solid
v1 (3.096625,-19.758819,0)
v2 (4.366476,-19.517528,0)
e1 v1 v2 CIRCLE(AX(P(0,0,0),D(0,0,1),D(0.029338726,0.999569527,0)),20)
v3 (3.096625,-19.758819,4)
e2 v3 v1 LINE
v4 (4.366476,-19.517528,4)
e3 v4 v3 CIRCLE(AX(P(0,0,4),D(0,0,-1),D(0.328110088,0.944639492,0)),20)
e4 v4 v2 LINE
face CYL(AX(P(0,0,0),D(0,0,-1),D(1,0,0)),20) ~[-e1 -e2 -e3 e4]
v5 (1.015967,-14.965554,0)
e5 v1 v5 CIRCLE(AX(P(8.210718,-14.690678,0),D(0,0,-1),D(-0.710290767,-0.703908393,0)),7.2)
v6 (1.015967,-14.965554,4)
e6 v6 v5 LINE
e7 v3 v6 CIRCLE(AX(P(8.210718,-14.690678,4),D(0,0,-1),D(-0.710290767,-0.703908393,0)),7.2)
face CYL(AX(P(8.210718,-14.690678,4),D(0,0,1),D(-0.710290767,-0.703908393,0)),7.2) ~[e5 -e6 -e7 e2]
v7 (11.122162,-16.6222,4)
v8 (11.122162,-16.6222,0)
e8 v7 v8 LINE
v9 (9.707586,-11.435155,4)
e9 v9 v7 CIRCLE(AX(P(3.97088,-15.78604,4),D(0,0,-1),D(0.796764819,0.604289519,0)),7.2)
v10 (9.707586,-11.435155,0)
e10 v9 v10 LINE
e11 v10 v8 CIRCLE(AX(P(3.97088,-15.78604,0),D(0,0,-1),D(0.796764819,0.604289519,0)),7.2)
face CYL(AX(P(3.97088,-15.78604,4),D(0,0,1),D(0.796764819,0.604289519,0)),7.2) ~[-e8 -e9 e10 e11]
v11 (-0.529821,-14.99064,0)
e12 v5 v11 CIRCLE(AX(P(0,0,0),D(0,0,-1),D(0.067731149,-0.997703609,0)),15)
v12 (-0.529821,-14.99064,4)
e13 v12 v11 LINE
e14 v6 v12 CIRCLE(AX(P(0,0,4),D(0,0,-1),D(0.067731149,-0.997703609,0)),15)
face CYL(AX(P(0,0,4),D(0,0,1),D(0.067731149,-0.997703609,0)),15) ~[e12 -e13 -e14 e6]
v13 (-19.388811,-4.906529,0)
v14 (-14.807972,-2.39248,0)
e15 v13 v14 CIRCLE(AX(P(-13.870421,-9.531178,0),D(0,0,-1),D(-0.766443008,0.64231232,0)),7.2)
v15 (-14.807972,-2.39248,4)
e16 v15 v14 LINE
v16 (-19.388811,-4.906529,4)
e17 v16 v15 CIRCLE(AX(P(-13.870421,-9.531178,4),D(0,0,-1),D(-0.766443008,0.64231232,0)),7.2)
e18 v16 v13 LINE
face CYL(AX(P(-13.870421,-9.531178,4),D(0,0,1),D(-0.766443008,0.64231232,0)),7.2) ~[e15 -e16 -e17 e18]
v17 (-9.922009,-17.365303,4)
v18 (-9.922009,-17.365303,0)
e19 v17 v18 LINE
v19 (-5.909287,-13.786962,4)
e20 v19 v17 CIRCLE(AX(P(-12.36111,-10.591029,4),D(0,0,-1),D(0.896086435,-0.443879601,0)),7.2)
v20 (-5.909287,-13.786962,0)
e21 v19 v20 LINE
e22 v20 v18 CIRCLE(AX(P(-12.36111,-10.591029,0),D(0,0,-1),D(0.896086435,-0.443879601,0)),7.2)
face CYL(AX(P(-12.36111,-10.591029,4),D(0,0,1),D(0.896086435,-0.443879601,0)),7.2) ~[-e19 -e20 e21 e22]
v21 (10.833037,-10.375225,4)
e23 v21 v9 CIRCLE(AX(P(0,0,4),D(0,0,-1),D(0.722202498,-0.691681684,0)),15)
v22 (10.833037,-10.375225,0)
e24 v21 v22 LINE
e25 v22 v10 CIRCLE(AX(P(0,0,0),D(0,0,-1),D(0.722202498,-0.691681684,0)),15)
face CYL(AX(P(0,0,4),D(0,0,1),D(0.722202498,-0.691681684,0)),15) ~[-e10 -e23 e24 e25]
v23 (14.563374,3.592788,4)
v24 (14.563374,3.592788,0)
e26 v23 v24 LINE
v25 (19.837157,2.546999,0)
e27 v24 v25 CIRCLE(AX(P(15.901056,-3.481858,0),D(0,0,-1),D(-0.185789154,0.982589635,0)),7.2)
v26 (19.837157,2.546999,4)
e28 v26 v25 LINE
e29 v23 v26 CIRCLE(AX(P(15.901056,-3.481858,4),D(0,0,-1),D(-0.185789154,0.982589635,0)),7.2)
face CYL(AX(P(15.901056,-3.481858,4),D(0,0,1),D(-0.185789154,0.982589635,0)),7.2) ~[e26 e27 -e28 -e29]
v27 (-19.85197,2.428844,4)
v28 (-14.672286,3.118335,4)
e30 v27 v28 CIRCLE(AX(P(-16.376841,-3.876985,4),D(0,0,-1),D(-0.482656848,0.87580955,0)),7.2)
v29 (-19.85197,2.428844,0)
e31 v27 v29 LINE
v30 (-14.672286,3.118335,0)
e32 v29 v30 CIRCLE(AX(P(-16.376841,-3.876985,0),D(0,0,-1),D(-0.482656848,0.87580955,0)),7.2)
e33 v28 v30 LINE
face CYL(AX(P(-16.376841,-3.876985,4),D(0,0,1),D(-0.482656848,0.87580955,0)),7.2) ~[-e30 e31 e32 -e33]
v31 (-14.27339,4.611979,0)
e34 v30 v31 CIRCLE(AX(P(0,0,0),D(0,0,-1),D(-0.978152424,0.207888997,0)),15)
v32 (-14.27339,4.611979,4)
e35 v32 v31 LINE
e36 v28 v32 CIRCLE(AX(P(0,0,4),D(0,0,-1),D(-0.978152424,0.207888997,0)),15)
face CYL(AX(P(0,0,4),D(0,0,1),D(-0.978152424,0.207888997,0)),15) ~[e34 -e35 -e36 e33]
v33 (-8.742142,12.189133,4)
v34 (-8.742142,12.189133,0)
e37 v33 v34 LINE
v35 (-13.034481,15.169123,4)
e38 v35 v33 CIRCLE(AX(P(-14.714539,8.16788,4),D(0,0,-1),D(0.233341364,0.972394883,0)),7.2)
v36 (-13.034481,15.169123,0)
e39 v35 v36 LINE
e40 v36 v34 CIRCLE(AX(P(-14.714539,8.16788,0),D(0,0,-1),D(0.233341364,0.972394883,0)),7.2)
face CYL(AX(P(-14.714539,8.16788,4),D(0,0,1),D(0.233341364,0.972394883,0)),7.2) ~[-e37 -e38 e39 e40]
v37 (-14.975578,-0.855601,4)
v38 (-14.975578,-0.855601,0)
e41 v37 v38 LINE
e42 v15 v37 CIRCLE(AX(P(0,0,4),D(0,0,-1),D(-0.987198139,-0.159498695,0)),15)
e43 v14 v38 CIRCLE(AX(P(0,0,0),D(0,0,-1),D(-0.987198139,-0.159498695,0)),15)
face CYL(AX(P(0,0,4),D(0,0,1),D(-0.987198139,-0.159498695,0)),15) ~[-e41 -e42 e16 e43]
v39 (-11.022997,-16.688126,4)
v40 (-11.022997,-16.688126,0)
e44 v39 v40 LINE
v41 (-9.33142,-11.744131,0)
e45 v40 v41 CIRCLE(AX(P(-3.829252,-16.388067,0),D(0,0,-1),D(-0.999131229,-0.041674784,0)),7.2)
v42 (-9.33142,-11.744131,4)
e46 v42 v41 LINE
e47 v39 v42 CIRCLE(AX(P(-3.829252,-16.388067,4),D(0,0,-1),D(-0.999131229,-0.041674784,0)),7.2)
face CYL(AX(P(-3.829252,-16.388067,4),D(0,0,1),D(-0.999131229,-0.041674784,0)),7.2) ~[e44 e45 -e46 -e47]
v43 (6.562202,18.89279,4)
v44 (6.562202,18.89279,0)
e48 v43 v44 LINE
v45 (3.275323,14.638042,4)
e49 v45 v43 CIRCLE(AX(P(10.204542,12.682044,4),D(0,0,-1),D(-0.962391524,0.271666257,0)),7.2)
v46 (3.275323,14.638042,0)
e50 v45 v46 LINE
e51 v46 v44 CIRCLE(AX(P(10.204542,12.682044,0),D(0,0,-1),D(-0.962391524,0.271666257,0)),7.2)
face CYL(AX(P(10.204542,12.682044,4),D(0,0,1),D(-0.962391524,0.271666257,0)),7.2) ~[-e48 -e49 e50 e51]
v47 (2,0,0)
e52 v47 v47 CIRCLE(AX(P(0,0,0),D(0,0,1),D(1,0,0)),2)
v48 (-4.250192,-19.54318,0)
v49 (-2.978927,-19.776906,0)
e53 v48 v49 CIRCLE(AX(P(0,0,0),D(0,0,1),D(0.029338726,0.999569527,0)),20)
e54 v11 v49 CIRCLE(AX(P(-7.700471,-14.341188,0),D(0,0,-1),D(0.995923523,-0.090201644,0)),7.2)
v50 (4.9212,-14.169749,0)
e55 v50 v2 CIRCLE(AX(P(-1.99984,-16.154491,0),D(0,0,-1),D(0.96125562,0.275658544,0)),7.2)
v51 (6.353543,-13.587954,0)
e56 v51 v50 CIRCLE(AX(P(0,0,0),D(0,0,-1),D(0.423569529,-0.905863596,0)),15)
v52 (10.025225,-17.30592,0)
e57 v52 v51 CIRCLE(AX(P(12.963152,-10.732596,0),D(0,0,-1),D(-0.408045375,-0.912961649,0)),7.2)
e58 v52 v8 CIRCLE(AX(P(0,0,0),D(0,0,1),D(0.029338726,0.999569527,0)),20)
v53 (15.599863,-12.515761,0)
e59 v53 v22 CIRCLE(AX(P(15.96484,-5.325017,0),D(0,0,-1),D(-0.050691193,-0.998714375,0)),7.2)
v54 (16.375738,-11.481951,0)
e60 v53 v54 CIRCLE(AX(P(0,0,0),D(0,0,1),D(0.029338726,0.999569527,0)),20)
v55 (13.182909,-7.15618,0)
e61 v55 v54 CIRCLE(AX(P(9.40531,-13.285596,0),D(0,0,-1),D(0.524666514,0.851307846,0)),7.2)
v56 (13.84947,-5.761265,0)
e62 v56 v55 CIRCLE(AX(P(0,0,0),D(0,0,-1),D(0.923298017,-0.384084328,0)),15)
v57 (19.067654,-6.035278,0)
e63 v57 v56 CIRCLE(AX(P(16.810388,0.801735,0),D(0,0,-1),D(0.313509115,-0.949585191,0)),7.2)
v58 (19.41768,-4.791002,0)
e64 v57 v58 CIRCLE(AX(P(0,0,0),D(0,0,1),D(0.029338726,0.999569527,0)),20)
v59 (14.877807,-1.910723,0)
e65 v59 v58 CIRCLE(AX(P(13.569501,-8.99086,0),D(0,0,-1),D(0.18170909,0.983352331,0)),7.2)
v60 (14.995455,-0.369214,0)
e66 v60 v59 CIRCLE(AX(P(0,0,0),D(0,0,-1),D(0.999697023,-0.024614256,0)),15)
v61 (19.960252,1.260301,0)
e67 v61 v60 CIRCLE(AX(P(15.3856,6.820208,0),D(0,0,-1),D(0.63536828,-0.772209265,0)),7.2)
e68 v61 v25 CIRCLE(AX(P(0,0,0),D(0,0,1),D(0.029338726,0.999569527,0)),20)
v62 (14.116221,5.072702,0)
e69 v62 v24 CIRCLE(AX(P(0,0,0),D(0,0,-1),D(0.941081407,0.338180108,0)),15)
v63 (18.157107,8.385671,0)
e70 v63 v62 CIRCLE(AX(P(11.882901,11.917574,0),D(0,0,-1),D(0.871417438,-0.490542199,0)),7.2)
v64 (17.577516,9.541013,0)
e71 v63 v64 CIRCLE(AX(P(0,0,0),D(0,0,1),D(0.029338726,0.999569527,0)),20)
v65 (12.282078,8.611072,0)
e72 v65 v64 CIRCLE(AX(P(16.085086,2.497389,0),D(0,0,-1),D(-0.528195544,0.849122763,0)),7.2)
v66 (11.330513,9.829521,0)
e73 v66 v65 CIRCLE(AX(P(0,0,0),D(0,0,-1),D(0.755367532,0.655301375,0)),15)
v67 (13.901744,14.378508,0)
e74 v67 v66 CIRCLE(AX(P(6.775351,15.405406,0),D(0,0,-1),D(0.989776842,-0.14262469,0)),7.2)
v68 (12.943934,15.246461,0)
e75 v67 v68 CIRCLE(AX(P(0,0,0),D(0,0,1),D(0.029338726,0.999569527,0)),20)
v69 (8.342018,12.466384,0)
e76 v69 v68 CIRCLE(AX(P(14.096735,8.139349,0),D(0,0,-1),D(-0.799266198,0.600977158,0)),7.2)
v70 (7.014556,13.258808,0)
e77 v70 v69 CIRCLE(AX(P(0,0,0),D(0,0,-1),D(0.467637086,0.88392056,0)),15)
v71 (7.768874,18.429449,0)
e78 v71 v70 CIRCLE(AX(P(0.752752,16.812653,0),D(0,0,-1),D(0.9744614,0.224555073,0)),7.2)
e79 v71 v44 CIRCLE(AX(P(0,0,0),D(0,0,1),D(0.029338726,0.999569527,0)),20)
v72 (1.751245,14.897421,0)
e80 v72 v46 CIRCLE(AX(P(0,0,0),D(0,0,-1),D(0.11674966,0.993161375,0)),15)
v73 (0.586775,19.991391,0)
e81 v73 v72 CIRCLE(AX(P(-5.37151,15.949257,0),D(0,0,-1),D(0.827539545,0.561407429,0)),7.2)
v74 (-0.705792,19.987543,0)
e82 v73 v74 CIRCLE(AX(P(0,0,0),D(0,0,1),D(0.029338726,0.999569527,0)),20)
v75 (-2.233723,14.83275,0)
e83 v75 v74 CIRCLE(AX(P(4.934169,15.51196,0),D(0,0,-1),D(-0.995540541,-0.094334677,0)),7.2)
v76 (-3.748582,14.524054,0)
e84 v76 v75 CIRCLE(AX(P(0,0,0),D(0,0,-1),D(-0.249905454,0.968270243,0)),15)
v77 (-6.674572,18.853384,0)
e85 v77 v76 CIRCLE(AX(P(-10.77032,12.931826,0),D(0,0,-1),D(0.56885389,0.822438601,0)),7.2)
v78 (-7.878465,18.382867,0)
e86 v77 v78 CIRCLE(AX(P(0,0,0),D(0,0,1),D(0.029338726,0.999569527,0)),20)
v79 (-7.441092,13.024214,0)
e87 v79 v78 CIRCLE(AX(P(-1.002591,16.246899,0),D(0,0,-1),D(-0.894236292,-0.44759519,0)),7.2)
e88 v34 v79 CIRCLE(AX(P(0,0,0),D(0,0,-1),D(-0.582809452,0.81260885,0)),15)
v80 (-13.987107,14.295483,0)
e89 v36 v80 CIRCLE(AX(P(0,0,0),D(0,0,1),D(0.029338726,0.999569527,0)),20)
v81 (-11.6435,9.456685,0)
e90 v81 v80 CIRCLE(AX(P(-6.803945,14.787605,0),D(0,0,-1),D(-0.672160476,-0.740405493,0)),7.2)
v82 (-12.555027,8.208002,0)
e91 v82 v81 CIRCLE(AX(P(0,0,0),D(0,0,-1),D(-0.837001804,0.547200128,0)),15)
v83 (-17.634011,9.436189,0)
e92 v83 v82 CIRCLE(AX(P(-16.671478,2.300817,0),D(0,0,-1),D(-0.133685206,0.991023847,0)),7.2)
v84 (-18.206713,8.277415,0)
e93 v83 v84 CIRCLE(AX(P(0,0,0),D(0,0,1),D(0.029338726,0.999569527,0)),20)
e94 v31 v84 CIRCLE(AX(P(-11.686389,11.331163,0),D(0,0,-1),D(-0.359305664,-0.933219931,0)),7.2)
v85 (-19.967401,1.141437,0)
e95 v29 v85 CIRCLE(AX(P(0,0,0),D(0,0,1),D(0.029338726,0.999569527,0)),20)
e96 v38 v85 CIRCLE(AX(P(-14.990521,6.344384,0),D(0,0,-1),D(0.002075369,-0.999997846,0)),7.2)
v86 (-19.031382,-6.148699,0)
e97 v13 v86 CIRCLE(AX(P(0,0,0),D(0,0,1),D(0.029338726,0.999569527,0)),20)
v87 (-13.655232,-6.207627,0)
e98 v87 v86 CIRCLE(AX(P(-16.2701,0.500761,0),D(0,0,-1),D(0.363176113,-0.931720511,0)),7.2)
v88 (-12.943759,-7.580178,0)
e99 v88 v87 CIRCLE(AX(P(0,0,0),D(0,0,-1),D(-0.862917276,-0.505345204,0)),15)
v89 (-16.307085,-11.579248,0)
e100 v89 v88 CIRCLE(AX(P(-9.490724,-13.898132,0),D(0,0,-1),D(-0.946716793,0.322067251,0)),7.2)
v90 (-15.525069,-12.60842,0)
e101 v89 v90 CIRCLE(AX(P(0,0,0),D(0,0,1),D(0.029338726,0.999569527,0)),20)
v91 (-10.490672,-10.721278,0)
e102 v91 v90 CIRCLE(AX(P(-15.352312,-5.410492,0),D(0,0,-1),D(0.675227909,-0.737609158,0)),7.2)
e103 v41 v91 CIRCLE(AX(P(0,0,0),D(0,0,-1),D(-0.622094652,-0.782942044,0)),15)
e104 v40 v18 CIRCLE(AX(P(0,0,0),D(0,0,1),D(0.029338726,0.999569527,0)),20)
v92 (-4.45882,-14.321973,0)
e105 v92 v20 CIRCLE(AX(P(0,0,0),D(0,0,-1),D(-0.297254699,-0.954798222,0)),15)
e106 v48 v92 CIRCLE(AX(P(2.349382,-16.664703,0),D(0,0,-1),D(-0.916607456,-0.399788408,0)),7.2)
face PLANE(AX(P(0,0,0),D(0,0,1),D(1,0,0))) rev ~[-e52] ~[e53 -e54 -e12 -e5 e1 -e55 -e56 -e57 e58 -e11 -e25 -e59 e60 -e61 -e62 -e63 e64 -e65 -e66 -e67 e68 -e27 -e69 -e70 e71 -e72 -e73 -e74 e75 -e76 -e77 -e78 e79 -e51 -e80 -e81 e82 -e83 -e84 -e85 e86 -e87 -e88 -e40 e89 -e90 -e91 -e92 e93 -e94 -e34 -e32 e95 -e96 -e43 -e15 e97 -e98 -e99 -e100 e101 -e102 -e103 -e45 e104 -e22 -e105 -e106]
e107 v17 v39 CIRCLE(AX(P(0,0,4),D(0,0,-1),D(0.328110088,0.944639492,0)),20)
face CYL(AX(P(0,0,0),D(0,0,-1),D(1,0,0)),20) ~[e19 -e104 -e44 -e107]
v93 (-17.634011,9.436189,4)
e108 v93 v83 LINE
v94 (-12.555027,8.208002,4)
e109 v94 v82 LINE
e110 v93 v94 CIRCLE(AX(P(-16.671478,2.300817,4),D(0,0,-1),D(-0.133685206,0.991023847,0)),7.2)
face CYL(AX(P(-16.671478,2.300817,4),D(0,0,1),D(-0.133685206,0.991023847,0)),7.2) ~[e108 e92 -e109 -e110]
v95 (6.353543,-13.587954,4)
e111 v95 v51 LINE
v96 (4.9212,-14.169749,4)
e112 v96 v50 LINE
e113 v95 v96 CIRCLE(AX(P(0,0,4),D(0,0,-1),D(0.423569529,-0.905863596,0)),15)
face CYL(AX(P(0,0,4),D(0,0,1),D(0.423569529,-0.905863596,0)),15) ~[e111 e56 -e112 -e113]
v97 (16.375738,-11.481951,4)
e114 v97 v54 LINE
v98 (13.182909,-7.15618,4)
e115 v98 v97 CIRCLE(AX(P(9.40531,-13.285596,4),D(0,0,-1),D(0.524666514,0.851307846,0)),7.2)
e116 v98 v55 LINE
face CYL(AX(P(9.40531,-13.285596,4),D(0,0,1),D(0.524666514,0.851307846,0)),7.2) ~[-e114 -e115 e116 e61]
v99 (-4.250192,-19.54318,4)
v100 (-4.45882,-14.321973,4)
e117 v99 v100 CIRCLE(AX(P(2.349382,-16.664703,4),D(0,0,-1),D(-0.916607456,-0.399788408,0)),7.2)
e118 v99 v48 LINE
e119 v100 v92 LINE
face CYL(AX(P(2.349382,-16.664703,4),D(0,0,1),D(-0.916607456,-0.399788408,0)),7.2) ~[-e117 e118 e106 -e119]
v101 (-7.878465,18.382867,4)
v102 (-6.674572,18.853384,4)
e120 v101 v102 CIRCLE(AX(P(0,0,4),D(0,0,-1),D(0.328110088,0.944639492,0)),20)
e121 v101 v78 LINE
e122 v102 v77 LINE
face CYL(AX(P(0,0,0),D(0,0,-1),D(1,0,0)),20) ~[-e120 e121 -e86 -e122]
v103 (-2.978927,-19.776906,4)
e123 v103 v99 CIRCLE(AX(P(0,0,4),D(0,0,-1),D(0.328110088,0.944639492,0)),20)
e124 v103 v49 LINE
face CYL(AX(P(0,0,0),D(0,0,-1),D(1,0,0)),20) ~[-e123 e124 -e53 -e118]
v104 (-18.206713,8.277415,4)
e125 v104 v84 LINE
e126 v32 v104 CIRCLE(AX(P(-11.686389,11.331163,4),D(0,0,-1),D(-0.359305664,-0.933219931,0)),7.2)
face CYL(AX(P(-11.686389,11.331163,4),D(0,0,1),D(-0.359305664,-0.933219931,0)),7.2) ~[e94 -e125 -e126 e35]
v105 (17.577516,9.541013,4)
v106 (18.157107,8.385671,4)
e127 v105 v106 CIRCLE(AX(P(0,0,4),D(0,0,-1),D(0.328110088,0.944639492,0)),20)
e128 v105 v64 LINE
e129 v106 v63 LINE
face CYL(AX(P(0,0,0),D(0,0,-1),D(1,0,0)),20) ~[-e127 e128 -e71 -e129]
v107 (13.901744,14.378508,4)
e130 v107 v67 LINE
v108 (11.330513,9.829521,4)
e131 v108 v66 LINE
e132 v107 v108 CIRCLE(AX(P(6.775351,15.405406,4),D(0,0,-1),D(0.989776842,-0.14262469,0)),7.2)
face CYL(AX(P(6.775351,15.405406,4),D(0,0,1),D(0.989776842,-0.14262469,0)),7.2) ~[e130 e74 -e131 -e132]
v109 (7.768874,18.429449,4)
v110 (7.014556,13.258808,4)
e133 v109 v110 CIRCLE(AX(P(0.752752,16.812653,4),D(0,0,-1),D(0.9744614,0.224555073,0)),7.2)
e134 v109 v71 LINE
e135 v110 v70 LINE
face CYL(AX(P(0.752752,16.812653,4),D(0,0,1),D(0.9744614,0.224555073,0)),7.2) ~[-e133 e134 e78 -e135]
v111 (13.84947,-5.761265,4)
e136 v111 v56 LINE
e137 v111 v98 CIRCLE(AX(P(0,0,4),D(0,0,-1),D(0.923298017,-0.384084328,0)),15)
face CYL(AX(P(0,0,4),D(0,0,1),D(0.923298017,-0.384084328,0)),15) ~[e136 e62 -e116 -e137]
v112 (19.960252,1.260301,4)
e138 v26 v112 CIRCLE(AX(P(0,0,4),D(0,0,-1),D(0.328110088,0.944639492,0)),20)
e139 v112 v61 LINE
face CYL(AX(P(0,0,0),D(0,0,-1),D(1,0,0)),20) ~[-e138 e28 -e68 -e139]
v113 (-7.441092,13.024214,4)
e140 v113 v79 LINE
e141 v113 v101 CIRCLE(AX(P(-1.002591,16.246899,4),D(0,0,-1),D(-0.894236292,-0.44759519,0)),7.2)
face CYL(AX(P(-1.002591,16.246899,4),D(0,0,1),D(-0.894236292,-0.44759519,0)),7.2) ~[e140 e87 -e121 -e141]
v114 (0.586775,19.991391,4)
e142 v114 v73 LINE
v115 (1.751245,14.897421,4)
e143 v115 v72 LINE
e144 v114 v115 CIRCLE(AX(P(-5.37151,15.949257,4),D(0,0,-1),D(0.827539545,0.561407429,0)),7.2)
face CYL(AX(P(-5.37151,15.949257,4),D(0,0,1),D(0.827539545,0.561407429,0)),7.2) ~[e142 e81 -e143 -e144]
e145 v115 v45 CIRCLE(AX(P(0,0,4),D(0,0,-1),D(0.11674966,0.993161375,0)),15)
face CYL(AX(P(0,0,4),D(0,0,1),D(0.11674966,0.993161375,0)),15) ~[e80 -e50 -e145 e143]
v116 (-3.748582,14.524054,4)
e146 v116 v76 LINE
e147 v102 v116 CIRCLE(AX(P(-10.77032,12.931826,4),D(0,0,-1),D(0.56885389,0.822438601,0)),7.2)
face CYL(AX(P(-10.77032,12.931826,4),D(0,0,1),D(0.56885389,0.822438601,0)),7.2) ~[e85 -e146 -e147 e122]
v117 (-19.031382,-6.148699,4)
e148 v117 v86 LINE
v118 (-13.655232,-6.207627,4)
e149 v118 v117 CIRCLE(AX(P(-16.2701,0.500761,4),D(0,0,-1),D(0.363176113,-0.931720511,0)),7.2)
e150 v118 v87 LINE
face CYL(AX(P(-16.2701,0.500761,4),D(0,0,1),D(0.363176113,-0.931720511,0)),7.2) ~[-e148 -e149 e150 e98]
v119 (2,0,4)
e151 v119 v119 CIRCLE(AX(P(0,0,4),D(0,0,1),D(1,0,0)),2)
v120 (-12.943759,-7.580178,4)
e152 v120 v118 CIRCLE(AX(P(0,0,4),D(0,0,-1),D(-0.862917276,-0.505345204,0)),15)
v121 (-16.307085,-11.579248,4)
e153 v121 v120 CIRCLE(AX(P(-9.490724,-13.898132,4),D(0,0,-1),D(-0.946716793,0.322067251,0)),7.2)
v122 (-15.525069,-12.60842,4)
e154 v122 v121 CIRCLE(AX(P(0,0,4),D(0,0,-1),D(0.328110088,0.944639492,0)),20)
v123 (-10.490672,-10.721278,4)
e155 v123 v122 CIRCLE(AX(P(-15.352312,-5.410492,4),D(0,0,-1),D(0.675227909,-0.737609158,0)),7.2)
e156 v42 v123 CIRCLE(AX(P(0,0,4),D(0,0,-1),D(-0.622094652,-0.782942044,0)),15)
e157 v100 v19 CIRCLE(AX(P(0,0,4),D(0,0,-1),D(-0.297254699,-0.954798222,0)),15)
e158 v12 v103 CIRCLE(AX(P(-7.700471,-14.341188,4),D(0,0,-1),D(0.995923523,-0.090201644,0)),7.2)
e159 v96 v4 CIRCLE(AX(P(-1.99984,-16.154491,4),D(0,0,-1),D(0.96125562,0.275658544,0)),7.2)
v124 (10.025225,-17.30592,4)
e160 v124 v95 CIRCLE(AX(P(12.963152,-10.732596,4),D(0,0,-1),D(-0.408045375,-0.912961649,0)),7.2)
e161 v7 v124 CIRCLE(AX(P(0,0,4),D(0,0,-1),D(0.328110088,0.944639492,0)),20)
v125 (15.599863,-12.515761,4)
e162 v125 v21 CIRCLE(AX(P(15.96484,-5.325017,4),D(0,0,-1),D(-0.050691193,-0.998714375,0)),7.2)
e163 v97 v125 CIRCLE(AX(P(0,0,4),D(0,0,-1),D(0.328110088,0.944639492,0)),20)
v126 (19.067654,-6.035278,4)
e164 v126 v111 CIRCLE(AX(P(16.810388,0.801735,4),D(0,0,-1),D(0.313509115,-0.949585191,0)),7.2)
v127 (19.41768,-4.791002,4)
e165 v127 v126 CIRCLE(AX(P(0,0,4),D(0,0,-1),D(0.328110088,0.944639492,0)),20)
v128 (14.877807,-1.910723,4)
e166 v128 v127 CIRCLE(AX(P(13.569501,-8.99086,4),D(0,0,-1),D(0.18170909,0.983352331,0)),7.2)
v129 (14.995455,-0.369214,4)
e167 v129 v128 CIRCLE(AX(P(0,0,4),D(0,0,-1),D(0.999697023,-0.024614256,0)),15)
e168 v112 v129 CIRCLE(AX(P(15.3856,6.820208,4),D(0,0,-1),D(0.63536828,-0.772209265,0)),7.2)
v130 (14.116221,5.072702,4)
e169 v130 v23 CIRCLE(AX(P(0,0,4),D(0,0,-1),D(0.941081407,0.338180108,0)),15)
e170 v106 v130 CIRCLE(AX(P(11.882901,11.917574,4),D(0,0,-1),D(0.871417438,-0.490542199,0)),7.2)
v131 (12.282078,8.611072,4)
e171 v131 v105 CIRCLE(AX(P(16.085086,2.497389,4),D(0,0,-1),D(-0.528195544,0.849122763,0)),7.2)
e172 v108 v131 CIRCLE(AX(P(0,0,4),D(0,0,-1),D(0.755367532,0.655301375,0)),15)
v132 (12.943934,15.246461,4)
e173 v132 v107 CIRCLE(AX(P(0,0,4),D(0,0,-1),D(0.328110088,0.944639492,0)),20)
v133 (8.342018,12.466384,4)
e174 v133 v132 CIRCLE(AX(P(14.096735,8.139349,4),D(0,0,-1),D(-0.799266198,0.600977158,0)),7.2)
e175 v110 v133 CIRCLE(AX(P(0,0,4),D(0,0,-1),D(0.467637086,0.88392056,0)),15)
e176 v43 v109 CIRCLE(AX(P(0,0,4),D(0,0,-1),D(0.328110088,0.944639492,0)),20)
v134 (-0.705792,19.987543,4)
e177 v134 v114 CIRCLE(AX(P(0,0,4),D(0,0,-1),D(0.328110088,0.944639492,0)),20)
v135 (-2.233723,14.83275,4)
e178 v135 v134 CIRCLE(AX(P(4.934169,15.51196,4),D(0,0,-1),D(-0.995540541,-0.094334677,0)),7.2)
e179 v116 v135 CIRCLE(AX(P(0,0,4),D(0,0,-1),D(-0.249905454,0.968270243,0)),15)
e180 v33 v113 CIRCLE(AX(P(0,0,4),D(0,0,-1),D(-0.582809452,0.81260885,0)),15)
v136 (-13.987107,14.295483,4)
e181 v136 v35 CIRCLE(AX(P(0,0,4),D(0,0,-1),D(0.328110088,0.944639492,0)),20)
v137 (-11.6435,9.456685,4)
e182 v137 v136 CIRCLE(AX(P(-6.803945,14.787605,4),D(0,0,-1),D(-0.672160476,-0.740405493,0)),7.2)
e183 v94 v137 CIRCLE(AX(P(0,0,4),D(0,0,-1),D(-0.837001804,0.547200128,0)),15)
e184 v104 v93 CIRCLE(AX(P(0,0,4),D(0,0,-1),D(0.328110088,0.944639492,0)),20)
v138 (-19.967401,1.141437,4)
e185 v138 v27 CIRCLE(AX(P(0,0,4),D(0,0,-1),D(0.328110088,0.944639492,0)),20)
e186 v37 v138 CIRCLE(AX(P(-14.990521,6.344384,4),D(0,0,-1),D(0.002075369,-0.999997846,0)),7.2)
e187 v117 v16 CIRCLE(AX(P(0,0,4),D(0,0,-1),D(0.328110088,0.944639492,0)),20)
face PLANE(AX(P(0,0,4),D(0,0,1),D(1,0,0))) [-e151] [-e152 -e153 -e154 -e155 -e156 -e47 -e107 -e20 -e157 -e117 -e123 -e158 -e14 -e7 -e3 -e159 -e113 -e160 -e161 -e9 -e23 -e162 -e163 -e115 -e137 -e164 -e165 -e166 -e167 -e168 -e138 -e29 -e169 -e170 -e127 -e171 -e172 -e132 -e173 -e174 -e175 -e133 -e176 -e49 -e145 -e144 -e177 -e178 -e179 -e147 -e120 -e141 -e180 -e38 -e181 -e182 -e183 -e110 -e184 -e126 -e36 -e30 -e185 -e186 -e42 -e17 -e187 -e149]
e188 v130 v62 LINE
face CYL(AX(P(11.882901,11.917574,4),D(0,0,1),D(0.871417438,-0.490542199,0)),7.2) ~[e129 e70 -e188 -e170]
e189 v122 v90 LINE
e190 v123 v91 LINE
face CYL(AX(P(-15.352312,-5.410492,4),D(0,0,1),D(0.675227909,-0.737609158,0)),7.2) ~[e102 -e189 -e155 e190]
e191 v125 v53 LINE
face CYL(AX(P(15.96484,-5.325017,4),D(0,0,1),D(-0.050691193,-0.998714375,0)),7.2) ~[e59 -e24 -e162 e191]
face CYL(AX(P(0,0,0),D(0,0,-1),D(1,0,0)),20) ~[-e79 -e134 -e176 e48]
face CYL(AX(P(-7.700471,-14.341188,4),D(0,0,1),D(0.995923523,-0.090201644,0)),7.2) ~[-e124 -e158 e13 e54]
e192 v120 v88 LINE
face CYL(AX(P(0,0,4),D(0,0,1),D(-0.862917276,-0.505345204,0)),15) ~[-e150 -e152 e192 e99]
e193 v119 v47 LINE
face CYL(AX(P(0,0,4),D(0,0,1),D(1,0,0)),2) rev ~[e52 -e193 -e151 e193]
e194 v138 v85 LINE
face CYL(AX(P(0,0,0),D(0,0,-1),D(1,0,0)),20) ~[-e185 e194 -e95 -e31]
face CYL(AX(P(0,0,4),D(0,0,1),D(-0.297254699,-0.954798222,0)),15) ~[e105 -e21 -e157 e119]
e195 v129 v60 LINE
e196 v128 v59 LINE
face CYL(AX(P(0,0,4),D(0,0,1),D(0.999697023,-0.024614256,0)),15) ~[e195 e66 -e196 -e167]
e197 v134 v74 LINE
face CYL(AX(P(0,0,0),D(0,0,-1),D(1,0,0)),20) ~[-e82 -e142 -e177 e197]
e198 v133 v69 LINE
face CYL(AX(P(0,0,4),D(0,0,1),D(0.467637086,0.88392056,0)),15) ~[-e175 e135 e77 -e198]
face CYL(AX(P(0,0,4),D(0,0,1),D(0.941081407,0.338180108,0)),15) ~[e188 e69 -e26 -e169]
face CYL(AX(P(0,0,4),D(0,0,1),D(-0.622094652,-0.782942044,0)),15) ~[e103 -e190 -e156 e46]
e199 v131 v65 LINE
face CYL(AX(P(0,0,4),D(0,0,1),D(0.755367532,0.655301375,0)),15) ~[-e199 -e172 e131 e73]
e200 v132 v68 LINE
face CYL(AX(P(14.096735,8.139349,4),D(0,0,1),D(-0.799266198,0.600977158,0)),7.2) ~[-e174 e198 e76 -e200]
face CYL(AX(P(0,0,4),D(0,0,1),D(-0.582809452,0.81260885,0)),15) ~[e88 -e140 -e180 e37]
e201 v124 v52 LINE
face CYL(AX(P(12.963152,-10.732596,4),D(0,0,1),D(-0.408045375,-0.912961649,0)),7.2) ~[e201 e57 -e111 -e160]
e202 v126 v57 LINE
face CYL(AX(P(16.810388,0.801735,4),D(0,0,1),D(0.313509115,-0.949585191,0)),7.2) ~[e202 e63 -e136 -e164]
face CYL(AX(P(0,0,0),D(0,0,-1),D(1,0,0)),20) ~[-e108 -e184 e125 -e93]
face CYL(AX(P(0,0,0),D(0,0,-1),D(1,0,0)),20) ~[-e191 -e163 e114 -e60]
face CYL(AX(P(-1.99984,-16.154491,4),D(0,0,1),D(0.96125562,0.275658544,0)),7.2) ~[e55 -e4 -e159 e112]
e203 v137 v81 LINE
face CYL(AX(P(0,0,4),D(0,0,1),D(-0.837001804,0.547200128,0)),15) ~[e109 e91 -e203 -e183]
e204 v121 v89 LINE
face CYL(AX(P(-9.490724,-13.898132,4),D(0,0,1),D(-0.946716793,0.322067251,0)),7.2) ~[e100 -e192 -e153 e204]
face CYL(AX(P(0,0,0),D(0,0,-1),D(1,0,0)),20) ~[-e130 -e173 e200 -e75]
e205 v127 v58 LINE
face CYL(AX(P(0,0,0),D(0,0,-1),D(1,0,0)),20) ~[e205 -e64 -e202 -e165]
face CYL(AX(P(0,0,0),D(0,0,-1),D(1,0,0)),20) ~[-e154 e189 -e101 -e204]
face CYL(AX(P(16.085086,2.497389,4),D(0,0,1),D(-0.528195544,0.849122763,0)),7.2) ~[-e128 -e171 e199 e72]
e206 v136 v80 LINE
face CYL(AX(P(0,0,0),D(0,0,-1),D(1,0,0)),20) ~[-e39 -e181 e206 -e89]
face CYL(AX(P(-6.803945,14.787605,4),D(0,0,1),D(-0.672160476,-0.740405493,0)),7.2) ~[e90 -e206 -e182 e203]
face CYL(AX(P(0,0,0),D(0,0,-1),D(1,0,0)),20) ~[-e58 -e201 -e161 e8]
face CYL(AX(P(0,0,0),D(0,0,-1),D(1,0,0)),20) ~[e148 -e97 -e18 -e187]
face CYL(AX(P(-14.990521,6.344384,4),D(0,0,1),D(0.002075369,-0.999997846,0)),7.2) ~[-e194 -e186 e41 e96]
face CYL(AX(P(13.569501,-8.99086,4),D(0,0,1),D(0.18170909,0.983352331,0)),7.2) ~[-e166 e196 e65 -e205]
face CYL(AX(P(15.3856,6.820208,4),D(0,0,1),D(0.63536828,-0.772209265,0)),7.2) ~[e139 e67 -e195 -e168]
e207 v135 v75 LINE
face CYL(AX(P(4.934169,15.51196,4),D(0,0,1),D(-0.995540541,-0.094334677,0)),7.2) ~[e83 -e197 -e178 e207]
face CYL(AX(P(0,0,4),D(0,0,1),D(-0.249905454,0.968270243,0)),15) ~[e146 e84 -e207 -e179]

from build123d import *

# Parameters (mm, degrees)
SKIZZE1_R                       = 20
AUFSATZ_LINEAR_AUSTRAGEN1_DEPTH = 4
SCHNITT_LINEAR_AUSTRAGEN1_REACH = 6
SKIZZE2_R                       = 2
SCHNITT_LINEAR_AUSTRAGEN2_DEPTH = 4
KREISMUSTER1_COUNT              = 17


with BuildPart() as part:
    # Skizze1 → Aufsatz-Linear austragen1 (new body)
    with BuildSketch(Plane.XY):
        Circle(SKIZZE1_R)
    extrude(amount=AUFSATZ_LINEAR_AUSTRAGEN1_DEPTH)

    # Skizze2 → Schnitt-Linear austragen1 (cut, up to next)
    with BuildSketch(Plane.XY.offset(4), mode=Mode.PRIVATE) as schnitt_linear_austragen1_sk1:
        Circle(SKIZZE2_R)
    schnitt_linear_austragen1_tool1 = extrude(schnitt_linear_austragen1_sk1.sketch, amount=-SCHNITT_LINEAR_AUSTRAGEN1_REACH, mode=Mode.PRIVATE) & part.part
    add(schnitt_linear_austragen1_tool1.solids().sort_by_distance((0, 0, 4))[0], mode=Mode.SUBTRACT)

    # Skizze3 → Schnitt-Linear austragen2 (cut)
    with BuildSketch(Plane.XY.offset(4)):
        with BuildLine():
            ThreePointArc((0.586774522, 19.991390538), (1.647430818, 17.553771601), (1.751244892, 14.897420627))
            ThreePointArc((1.751244892, 14.897420627), (2.516627793, 14.787379232), (3.275322949, 14.638041521))
            ThreePointArc((3.275322949, 14.638041521), (4.506718961, 17.083727504), (6.562201755, 18.892789845))
            ThreePointArc((6.562201755, 18.892789845), (3.616448026, 19.670315292), (0.586774522, 19.991390538))
        make_face()
    schnitt_linear_austragen2 = extrude(amount=-SCHNITT_LINEAR_AUSTRAGEN2_DEPTH, mode=Mode.SUBTRACT)

    # Kreismuster1: Schnitt-Linear austragen2 ×17 about axis
    kreismuster1_axis = Axis((0, 0, 0), (0, 0, 1))
    for i in range(1, KREISMUSTER1_COUNT):
        add(schnitt_linear_austragen2.rotate(kreismuster1_axis, i * 360 / KREISMUSTER1_COUNT), mode=Mode.SUBTRACT)


solid = part.part
